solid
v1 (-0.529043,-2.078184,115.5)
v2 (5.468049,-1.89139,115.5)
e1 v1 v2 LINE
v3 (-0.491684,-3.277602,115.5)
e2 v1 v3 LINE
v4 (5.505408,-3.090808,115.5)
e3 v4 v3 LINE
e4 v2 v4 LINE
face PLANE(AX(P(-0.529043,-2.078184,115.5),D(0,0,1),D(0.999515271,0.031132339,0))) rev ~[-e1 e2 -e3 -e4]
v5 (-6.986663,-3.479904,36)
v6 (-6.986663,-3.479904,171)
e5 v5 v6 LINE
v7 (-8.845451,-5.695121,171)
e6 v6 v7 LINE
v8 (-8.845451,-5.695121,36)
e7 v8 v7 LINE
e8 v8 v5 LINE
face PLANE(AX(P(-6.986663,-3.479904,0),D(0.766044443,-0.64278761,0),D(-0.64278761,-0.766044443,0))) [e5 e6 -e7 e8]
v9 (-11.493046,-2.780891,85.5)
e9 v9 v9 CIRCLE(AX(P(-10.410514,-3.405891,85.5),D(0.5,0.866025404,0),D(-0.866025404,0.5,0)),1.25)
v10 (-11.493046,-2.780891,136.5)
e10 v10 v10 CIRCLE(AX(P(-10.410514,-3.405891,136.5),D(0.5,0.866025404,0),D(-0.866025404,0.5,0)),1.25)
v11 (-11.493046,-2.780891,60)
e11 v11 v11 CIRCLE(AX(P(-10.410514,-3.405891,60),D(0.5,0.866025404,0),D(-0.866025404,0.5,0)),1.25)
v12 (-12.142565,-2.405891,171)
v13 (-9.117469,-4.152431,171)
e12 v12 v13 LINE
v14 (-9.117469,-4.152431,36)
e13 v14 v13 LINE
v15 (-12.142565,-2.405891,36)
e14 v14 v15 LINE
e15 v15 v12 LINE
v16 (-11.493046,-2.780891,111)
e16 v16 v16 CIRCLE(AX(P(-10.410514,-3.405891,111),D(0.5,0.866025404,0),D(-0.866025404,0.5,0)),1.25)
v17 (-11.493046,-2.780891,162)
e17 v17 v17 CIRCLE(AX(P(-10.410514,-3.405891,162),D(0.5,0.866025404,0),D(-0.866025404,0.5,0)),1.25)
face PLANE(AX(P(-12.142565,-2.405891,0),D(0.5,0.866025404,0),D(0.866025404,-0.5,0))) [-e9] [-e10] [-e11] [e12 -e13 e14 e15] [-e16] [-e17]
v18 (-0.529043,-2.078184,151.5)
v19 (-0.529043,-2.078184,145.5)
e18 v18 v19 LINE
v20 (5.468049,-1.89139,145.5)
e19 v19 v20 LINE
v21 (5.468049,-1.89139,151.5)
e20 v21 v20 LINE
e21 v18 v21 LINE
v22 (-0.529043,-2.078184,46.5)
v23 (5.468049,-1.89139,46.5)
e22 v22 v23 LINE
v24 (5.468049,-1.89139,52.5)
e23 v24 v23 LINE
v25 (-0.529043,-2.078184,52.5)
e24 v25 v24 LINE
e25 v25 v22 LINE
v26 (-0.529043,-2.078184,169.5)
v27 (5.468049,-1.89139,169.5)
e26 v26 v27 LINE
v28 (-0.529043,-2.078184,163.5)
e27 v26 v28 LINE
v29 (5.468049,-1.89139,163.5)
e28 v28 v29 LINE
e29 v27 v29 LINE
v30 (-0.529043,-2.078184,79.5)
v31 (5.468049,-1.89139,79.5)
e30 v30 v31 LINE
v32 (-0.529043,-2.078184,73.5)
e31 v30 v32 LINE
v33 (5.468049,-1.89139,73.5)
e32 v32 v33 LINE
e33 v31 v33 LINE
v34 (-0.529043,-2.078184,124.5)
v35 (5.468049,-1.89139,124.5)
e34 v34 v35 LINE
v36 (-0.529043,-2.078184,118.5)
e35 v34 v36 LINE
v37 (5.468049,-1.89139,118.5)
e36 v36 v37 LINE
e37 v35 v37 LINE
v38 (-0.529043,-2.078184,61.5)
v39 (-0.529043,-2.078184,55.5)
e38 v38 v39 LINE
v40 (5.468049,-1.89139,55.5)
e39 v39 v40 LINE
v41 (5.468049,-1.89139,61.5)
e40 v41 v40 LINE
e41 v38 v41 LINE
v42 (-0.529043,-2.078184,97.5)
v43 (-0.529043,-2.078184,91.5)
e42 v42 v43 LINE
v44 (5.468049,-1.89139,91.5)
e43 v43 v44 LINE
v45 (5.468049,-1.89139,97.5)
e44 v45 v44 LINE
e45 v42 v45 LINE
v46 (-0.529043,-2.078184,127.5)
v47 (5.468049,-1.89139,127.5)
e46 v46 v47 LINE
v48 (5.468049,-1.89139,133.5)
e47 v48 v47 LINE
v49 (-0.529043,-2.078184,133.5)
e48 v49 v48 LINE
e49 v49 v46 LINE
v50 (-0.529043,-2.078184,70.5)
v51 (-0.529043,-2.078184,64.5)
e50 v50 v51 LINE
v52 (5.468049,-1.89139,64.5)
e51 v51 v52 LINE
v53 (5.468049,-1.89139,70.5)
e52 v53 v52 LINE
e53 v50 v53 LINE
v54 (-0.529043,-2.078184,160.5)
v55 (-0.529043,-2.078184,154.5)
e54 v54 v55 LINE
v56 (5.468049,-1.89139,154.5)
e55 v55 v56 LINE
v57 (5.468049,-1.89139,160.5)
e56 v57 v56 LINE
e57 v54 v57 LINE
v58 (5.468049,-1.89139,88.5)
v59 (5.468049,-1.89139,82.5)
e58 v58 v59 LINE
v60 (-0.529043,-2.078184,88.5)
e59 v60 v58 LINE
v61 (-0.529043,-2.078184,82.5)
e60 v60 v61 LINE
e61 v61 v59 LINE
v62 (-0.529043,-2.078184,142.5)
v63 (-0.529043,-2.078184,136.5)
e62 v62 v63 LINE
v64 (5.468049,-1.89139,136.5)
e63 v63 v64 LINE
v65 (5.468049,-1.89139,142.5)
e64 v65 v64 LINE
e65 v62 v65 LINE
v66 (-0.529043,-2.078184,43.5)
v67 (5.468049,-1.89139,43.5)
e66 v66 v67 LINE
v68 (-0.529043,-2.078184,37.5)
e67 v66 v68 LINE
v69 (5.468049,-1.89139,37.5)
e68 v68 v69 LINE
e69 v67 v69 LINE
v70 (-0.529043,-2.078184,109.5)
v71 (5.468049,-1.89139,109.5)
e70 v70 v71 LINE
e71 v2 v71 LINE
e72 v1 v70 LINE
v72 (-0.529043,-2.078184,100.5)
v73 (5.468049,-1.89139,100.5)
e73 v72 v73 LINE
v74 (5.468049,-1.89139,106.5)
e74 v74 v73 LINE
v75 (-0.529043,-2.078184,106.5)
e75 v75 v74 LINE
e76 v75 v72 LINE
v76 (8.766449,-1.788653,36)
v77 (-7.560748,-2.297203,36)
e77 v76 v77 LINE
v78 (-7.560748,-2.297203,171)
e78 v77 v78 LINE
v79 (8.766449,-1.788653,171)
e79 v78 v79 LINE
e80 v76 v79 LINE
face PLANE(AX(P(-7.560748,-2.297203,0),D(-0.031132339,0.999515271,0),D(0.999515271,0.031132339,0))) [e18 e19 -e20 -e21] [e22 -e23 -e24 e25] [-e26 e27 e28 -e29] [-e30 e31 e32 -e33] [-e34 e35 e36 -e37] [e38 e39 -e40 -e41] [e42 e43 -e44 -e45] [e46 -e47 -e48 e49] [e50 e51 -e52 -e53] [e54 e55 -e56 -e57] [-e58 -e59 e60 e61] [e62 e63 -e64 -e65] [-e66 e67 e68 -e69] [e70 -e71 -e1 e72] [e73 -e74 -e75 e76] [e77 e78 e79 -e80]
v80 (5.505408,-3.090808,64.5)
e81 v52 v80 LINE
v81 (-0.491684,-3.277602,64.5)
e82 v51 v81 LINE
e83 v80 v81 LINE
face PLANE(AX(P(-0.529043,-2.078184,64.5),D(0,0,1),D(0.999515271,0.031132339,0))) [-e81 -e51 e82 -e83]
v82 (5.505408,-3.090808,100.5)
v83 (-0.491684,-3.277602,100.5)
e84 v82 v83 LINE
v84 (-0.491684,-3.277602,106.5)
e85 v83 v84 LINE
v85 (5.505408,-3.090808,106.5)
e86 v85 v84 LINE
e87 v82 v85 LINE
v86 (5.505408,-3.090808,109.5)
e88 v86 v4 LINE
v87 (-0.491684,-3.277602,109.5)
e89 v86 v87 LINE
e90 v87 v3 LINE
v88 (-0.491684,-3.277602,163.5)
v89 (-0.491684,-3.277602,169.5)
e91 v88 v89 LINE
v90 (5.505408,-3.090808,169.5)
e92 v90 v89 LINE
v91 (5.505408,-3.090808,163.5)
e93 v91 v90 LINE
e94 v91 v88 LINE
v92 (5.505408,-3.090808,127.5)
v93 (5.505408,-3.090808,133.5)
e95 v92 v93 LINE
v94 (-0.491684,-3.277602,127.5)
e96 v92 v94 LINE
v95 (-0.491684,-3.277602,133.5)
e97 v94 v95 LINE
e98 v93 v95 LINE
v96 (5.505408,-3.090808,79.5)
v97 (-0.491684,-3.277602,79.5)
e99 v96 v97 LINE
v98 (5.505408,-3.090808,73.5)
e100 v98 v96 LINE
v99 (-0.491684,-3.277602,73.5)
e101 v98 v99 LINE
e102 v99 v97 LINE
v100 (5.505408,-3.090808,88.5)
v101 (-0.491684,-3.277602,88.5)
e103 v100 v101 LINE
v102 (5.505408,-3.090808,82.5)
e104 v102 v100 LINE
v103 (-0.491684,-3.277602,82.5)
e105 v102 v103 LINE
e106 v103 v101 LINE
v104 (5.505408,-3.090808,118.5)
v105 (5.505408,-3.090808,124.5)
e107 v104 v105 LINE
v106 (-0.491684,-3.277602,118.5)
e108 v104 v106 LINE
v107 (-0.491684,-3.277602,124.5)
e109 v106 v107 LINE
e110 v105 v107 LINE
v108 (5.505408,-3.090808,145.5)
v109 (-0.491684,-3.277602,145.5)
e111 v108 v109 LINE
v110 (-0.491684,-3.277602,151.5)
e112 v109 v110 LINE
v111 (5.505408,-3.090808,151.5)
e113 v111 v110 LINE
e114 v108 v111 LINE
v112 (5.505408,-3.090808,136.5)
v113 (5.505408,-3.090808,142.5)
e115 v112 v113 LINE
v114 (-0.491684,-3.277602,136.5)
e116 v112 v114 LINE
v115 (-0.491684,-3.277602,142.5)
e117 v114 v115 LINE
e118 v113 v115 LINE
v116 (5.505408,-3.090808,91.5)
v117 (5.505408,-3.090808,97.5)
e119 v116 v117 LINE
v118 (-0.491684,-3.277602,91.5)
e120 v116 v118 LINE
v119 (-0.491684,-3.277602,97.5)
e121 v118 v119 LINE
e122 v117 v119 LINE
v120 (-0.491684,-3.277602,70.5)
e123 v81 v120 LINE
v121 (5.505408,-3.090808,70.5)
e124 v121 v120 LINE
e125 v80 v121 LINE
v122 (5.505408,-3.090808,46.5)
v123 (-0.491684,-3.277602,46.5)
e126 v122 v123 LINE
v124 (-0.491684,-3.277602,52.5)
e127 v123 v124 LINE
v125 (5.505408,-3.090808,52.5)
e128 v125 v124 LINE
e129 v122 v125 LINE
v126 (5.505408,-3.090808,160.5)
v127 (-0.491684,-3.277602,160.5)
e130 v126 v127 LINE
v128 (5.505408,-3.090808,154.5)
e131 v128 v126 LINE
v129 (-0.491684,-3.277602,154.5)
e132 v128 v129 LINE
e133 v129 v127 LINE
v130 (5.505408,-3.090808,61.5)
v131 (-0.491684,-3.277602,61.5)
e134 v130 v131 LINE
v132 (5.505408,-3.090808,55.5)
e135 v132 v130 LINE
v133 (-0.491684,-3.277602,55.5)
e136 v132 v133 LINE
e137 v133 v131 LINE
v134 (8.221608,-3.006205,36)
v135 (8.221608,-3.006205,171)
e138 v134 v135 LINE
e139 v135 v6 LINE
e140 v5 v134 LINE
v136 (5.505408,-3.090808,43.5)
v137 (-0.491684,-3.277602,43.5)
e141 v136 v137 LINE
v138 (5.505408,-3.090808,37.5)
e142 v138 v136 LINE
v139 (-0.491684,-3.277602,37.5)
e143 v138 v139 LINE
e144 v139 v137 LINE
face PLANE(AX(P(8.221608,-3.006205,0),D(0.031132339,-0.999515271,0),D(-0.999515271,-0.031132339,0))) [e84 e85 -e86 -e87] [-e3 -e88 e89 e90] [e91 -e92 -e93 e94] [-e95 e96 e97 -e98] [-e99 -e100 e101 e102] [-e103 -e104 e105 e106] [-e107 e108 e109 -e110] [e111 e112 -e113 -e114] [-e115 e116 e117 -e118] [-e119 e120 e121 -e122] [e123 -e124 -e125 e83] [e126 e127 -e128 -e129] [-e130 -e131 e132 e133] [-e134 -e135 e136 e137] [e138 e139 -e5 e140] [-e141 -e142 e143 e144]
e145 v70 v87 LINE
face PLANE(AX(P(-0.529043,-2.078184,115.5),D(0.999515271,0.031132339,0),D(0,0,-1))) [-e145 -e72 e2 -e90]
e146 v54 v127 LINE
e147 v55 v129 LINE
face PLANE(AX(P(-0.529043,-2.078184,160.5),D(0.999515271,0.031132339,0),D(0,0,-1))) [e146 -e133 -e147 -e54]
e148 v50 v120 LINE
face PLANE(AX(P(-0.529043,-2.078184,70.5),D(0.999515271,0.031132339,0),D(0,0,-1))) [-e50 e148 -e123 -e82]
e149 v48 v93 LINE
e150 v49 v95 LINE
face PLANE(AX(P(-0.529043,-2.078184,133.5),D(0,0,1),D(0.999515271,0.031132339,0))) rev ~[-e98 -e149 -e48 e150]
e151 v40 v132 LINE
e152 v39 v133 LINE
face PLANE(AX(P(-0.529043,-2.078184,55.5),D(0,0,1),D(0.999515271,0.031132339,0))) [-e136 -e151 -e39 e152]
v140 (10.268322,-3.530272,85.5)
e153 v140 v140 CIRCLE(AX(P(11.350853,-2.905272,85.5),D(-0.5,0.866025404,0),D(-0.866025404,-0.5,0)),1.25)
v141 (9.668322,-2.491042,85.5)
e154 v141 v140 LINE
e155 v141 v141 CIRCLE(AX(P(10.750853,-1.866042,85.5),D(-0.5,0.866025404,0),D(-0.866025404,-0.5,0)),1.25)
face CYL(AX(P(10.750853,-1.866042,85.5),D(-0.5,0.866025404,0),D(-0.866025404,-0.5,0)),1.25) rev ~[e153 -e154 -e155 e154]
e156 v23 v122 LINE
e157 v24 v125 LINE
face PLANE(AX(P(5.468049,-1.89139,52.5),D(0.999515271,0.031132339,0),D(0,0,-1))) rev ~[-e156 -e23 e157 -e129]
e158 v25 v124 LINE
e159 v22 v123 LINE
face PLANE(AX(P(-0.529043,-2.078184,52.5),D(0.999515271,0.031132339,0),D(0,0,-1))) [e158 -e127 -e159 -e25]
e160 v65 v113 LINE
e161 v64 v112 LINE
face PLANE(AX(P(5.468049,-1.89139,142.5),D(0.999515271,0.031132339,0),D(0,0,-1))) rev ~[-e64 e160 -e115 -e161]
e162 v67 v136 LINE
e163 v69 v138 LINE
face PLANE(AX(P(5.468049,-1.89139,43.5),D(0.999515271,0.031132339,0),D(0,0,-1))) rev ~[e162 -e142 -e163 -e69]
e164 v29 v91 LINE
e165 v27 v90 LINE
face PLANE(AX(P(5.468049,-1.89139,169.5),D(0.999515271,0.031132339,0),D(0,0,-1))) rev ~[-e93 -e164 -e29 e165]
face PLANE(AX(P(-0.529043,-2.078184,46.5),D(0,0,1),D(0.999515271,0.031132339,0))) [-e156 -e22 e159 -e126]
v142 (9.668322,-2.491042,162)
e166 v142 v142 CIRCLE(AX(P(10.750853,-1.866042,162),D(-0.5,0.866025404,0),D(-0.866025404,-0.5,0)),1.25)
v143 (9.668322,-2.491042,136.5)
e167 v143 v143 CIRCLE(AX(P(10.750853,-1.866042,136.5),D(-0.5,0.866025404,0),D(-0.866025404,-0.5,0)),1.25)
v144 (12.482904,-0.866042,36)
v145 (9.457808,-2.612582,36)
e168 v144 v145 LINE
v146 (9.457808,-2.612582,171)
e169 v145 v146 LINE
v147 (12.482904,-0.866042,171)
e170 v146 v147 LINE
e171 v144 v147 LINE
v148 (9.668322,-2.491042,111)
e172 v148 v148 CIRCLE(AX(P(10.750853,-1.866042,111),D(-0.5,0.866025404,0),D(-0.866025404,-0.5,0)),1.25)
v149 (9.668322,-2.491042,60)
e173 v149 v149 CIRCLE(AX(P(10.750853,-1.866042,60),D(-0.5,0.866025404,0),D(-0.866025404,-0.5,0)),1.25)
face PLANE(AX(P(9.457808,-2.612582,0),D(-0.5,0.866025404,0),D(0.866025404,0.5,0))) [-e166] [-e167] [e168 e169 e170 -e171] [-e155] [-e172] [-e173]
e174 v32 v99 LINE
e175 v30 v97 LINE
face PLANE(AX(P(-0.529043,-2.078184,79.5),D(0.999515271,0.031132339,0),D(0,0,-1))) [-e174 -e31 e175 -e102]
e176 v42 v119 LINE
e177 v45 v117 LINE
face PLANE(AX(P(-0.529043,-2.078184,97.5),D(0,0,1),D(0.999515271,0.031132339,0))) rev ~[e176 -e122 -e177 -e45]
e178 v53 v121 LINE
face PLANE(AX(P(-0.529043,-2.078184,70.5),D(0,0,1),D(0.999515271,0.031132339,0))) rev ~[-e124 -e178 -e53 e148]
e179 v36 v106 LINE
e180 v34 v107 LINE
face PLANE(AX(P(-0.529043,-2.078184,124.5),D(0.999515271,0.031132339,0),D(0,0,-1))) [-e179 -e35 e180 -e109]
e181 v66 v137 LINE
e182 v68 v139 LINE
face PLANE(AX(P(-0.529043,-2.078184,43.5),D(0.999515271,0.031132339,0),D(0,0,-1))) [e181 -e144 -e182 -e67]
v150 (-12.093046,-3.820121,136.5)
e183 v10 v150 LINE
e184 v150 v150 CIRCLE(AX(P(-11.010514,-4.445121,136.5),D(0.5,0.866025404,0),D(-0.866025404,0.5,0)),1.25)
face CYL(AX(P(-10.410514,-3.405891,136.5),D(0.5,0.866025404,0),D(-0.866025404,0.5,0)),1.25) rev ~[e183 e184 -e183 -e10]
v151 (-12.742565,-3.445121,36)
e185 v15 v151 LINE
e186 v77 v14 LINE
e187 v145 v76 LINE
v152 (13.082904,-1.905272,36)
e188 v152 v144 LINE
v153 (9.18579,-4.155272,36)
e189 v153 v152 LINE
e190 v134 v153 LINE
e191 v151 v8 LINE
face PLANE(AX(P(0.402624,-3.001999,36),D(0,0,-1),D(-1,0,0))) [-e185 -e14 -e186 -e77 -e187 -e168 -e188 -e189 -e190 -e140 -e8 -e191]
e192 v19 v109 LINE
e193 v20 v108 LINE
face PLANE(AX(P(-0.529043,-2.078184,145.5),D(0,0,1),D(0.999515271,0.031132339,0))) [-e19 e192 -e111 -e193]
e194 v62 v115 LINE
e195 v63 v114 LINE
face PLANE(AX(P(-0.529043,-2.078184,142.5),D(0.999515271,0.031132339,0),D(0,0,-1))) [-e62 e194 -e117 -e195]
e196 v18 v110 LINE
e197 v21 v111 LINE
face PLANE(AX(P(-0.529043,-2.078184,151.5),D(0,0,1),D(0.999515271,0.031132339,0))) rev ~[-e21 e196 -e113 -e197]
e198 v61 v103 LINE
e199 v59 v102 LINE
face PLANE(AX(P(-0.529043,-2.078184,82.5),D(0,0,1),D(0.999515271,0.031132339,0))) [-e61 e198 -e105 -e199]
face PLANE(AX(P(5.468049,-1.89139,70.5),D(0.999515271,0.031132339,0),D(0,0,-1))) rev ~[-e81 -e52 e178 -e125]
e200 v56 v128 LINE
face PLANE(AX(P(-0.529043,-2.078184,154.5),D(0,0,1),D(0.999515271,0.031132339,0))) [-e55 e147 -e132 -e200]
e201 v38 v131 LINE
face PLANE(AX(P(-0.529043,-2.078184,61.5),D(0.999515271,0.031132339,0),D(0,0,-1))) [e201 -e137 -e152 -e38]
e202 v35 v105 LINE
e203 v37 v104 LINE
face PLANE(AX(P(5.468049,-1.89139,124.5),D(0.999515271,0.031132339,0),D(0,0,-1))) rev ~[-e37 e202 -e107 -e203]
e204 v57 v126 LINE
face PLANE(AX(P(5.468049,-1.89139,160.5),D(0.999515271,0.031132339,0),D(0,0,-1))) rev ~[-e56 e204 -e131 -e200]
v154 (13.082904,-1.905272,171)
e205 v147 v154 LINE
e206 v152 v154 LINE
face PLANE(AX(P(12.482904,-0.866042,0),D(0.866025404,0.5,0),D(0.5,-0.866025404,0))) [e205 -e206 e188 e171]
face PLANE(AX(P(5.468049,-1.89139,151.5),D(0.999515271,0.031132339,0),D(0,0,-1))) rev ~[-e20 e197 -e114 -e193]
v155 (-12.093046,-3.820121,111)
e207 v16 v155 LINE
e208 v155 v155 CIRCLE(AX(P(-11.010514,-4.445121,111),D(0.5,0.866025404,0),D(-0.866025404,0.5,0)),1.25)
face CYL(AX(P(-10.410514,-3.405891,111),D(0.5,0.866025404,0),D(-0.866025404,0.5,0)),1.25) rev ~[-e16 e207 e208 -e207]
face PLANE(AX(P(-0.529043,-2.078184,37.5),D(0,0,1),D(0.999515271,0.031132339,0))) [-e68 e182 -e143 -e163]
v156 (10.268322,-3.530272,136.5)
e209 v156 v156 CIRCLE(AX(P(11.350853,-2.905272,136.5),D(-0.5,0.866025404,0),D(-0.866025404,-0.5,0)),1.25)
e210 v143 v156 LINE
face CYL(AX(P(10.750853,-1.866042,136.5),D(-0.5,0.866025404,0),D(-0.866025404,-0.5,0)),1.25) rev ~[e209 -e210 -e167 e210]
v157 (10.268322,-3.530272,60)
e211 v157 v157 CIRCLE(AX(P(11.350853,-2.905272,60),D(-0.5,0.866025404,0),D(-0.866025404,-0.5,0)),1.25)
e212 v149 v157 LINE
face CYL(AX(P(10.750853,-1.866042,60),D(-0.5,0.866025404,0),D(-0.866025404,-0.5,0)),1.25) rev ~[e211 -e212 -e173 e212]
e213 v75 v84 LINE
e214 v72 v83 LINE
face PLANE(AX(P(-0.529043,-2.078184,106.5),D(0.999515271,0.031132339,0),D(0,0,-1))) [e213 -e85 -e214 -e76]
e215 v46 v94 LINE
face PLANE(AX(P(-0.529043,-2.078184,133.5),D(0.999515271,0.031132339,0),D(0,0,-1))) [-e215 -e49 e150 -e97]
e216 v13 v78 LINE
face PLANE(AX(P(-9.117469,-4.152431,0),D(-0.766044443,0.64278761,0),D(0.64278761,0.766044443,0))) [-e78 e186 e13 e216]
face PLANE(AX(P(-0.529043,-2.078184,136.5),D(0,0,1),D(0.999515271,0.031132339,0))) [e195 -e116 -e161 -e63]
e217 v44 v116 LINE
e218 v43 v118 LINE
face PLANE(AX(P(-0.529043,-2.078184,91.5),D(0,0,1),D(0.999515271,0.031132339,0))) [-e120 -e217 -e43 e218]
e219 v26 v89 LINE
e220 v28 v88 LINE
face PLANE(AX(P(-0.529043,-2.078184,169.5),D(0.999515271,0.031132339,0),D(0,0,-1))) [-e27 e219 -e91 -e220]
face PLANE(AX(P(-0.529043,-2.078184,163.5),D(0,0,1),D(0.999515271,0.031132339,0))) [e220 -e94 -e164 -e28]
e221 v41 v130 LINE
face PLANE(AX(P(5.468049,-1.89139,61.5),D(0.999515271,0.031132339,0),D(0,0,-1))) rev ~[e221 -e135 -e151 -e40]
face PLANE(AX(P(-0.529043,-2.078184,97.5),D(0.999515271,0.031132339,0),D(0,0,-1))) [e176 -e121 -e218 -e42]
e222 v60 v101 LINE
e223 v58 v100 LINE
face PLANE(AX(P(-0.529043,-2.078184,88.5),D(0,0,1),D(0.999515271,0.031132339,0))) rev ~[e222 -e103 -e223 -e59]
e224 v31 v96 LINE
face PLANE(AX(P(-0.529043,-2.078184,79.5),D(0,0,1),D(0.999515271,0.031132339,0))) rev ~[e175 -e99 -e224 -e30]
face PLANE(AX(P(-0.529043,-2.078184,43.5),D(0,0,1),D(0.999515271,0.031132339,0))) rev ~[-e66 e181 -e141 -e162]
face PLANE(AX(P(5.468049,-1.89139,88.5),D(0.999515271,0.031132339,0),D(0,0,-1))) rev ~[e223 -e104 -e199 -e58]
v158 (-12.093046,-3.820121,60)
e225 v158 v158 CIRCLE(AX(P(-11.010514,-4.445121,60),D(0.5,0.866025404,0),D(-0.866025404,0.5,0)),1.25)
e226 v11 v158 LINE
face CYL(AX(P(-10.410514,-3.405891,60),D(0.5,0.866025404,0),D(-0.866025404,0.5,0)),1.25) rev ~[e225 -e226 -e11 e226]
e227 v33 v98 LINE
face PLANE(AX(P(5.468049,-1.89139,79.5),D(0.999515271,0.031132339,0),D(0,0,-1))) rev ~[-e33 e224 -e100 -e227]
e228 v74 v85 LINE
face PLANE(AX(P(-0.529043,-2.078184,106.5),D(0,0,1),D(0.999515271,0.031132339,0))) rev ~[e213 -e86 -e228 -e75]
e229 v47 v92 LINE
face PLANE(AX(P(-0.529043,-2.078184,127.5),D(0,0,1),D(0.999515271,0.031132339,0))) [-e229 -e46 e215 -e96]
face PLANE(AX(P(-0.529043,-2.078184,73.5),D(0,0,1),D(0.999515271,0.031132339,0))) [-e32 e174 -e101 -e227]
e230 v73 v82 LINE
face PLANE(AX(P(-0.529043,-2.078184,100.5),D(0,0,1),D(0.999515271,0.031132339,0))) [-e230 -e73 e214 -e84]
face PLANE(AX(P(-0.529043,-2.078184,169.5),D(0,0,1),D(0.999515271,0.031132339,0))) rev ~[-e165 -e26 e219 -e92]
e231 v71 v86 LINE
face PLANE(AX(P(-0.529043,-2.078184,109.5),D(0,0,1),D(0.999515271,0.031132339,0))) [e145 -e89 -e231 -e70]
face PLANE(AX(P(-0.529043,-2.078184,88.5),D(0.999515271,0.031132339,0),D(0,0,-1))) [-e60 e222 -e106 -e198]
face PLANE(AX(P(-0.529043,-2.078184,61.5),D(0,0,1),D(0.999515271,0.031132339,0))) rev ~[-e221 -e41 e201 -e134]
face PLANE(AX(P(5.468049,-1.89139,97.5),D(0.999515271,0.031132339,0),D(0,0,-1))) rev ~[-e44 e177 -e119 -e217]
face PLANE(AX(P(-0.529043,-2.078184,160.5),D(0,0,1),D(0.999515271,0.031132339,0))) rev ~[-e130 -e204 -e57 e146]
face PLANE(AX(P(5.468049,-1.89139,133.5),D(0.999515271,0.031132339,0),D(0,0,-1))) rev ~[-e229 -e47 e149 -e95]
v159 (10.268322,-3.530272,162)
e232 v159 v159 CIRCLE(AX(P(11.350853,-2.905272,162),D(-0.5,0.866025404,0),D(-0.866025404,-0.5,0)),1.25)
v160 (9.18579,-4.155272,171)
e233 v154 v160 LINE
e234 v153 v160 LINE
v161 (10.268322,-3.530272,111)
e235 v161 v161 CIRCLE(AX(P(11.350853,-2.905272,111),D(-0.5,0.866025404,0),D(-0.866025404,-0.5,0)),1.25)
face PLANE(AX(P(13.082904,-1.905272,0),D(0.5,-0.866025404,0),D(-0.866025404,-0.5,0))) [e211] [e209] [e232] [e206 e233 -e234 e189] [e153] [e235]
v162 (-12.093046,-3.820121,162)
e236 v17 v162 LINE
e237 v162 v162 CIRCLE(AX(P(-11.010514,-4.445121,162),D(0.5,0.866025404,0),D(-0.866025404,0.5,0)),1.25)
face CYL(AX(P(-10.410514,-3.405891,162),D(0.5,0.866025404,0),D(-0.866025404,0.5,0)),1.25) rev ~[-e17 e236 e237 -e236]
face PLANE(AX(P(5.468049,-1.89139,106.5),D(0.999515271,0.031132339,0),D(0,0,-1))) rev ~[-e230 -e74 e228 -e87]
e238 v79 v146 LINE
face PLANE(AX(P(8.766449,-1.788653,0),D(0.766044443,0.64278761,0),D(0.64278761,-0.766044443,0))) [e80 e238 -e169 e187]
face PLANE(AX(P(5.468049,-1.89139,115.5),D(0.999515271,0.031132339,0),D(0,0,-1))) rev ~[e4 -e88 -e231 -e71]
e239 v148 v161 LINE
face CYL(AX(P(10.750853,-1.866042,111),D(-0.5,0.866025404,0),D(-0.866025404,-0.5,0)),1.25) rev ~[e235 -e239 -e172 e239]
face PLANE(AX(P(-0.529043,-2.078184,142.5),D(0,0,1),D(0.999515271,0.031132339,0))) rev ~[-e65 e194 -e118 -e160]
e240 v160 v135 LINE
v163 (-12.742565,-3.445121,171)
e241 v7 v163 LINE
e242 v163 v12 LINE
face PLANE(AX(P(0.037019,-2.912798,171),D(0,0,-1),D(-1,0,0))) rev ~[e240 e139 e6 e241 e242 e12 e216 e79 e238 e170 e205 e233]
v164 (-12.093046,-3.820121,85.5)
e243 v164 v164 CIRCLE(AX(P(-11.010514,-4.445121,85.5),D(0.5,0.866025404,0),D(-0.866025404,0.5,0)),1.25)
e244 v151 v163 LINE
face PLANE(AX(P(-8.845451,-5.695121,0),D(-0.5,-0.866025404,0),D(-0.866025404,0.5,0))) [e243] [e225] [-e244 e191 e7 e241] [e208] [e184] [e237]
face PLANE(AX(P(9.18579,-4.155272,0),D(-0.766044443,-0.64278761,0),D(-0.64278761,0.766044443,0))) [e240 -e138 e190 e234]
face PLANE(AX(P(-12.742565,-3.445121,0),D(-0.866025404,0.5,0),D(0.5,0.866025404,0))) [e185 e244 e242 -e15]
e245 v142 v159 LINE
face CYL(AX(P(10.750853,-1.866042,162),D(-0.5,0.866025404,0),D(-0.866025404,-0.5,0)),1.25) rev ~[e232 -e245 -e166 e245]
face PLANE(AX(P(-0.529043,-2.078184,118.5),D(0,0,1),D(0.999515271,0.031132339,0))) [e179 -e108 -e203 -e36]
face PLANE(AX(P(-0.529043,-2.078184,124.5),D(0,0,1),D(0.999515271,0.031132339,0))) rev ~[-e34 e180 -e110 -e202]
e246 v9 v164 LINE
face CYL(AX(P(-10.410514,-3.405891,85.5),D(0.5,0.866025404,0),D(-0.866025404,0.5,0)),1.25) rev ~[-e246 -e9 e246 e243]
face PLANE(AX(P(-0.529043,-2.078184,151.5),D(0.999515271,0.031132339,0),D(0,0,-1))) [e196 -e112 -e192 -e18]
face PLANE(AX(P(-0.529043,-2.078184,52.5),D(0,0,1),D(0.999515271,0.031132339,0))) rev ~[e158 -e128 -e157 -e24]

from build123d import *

# Parameters (mm, degrees)
BOSS_EXTRUDE1_DEPTH = 171
SKETCH2_R           = 1.25
CUT_EXTRUDE1_DEPTH  = 10
SKETCH4_R           = 1.25
CUT_EXTRUDE2_DEPTH  = 10
LPATTERN1_COUNT     = 7
LPATTERN1_PITCH     = 25.5
SKETCH5_W           = 6
SKETCH5_H           = 6
CUT_EXTRUDE3_DEPTH  = 10
LPATTERN2_COUNT     = 19
LPATTERN2_PITCH     = 9
SKETCH6_W           = 39.406826709
SKETCH6_H           = 10.111121127
CUT_EXTRUDE4_DEPTH  = 36


with BuildPart() as part:
    # Sketch1 → Boss-Extrude1 (new body)
    with BuildSketch(Plane.XY):
        Polygon((-7.560747901, -2.297203345), (8.76644945, -1.788652997), (9.457807768, -2.612581756), (12.482904169, -0.866041535), (13.082904169, -1.905272019), (9.185789852, -4.155272019), (8.221608437, -3.006205355), (-6.986662858, -3.479904024), (-8.845450789, -5.695121219), (-12.742565106, -3.445121219), (-12.142565106, -2.405890734), (-9.117468705, -4.152430955), align=None)
    extrude(amount=BOSS_EXTRUDE1_DEPTH)

    # Sketch2 → Cut-Extrude1 (cut)
    with BuildSketch(Plane(origin=(3.495733027, -6.054787213, 0), x_dir=(0.8660254037844403, 0.49999999999999734, 0), z_dir=(-0.49999999999999734, 0.8660254037844403, 0))):
        with Locations(Location((8.377491356, -162, 0), (0, 0, 180))):
            Circle(SKETCH2_R)
    cut_extrude1 = extrude(amount=-CUT_EXTRUDE1_DEPTH, mode=Mode.SUBTRACT)

    # Sketch4 → Cut-Extrude2 (cut)
    with BuildSketch(Plane(origin=(-4.077422524, -7.062302975, 0), x_dir=(0.8660254037844392, -0.49999999999999917, 0), z_dir=(0.49999999999999917, 0.8660254037844392, 0))):
        with Locations(Location((-7.312824482, -162, 0), (0, 0, 180))):
            Circle(SKETCH4_R)
    cut_extrude2 = extrude(amount=-CUT_EXTRUDE2_DEPTH, mode=Mode.SUBTRACT)

    # LPattern1: Cut-Extrude1, Cut-Extrude2 ×7
    with Locations(*[(0, 0, -i * LPATTERN1_PITCH) for i in range(1, LPATTERN1_COUNT)]):
        add(cut_extrude1, mode=Mode.SUBTRACT)
        add(cut_extrude2, mode=Mode.SUBTRACT)

    # Sketch5 → Cut-Extrude3 (cut)
    with BuildSketch(Plane(origin=(0.064154599, -2.059707176, 0), x_dir=(0.9995152712604761, 0.031132338766899612, 0), z_dir=(-0.031132338766899612, 0.9995152712604761, 0))):
        with Locations((2.406515149, -166.5)):
            Rectangle(SKETCH5_W, SKETCH5_H)
    cut_extrude3 = extrude(amount=-CUT_EXTRUDE3_DEPTH, mode=Mode.SUBTRACT)

    # LPattern2: Cut-Extrude3 ×19
    with Locations(*[(0, 0, -i * LPATTERN2_PITCH) for i in range(1, LPATTERN2_COUNT)]):
        add(cut_extrude3, mode=Mode.SUBTRACT)

    # Sketch6 → Cut-Extrude4 (cut)
    with BuildSketch(Plane(origin=(0, 0, 0), x_dir=(-1, 0, 0), z_dir=(0, 0, -1))):
        with Locations((-0.40262443, -3.001999491)):
            Rectangle(SKETCH6_W, SKETCH6_H)
    extrude(amount=-CUT_EXTRUDE4_DEPTH, mode=Mode.SUBTRACT)


solid = part.part
